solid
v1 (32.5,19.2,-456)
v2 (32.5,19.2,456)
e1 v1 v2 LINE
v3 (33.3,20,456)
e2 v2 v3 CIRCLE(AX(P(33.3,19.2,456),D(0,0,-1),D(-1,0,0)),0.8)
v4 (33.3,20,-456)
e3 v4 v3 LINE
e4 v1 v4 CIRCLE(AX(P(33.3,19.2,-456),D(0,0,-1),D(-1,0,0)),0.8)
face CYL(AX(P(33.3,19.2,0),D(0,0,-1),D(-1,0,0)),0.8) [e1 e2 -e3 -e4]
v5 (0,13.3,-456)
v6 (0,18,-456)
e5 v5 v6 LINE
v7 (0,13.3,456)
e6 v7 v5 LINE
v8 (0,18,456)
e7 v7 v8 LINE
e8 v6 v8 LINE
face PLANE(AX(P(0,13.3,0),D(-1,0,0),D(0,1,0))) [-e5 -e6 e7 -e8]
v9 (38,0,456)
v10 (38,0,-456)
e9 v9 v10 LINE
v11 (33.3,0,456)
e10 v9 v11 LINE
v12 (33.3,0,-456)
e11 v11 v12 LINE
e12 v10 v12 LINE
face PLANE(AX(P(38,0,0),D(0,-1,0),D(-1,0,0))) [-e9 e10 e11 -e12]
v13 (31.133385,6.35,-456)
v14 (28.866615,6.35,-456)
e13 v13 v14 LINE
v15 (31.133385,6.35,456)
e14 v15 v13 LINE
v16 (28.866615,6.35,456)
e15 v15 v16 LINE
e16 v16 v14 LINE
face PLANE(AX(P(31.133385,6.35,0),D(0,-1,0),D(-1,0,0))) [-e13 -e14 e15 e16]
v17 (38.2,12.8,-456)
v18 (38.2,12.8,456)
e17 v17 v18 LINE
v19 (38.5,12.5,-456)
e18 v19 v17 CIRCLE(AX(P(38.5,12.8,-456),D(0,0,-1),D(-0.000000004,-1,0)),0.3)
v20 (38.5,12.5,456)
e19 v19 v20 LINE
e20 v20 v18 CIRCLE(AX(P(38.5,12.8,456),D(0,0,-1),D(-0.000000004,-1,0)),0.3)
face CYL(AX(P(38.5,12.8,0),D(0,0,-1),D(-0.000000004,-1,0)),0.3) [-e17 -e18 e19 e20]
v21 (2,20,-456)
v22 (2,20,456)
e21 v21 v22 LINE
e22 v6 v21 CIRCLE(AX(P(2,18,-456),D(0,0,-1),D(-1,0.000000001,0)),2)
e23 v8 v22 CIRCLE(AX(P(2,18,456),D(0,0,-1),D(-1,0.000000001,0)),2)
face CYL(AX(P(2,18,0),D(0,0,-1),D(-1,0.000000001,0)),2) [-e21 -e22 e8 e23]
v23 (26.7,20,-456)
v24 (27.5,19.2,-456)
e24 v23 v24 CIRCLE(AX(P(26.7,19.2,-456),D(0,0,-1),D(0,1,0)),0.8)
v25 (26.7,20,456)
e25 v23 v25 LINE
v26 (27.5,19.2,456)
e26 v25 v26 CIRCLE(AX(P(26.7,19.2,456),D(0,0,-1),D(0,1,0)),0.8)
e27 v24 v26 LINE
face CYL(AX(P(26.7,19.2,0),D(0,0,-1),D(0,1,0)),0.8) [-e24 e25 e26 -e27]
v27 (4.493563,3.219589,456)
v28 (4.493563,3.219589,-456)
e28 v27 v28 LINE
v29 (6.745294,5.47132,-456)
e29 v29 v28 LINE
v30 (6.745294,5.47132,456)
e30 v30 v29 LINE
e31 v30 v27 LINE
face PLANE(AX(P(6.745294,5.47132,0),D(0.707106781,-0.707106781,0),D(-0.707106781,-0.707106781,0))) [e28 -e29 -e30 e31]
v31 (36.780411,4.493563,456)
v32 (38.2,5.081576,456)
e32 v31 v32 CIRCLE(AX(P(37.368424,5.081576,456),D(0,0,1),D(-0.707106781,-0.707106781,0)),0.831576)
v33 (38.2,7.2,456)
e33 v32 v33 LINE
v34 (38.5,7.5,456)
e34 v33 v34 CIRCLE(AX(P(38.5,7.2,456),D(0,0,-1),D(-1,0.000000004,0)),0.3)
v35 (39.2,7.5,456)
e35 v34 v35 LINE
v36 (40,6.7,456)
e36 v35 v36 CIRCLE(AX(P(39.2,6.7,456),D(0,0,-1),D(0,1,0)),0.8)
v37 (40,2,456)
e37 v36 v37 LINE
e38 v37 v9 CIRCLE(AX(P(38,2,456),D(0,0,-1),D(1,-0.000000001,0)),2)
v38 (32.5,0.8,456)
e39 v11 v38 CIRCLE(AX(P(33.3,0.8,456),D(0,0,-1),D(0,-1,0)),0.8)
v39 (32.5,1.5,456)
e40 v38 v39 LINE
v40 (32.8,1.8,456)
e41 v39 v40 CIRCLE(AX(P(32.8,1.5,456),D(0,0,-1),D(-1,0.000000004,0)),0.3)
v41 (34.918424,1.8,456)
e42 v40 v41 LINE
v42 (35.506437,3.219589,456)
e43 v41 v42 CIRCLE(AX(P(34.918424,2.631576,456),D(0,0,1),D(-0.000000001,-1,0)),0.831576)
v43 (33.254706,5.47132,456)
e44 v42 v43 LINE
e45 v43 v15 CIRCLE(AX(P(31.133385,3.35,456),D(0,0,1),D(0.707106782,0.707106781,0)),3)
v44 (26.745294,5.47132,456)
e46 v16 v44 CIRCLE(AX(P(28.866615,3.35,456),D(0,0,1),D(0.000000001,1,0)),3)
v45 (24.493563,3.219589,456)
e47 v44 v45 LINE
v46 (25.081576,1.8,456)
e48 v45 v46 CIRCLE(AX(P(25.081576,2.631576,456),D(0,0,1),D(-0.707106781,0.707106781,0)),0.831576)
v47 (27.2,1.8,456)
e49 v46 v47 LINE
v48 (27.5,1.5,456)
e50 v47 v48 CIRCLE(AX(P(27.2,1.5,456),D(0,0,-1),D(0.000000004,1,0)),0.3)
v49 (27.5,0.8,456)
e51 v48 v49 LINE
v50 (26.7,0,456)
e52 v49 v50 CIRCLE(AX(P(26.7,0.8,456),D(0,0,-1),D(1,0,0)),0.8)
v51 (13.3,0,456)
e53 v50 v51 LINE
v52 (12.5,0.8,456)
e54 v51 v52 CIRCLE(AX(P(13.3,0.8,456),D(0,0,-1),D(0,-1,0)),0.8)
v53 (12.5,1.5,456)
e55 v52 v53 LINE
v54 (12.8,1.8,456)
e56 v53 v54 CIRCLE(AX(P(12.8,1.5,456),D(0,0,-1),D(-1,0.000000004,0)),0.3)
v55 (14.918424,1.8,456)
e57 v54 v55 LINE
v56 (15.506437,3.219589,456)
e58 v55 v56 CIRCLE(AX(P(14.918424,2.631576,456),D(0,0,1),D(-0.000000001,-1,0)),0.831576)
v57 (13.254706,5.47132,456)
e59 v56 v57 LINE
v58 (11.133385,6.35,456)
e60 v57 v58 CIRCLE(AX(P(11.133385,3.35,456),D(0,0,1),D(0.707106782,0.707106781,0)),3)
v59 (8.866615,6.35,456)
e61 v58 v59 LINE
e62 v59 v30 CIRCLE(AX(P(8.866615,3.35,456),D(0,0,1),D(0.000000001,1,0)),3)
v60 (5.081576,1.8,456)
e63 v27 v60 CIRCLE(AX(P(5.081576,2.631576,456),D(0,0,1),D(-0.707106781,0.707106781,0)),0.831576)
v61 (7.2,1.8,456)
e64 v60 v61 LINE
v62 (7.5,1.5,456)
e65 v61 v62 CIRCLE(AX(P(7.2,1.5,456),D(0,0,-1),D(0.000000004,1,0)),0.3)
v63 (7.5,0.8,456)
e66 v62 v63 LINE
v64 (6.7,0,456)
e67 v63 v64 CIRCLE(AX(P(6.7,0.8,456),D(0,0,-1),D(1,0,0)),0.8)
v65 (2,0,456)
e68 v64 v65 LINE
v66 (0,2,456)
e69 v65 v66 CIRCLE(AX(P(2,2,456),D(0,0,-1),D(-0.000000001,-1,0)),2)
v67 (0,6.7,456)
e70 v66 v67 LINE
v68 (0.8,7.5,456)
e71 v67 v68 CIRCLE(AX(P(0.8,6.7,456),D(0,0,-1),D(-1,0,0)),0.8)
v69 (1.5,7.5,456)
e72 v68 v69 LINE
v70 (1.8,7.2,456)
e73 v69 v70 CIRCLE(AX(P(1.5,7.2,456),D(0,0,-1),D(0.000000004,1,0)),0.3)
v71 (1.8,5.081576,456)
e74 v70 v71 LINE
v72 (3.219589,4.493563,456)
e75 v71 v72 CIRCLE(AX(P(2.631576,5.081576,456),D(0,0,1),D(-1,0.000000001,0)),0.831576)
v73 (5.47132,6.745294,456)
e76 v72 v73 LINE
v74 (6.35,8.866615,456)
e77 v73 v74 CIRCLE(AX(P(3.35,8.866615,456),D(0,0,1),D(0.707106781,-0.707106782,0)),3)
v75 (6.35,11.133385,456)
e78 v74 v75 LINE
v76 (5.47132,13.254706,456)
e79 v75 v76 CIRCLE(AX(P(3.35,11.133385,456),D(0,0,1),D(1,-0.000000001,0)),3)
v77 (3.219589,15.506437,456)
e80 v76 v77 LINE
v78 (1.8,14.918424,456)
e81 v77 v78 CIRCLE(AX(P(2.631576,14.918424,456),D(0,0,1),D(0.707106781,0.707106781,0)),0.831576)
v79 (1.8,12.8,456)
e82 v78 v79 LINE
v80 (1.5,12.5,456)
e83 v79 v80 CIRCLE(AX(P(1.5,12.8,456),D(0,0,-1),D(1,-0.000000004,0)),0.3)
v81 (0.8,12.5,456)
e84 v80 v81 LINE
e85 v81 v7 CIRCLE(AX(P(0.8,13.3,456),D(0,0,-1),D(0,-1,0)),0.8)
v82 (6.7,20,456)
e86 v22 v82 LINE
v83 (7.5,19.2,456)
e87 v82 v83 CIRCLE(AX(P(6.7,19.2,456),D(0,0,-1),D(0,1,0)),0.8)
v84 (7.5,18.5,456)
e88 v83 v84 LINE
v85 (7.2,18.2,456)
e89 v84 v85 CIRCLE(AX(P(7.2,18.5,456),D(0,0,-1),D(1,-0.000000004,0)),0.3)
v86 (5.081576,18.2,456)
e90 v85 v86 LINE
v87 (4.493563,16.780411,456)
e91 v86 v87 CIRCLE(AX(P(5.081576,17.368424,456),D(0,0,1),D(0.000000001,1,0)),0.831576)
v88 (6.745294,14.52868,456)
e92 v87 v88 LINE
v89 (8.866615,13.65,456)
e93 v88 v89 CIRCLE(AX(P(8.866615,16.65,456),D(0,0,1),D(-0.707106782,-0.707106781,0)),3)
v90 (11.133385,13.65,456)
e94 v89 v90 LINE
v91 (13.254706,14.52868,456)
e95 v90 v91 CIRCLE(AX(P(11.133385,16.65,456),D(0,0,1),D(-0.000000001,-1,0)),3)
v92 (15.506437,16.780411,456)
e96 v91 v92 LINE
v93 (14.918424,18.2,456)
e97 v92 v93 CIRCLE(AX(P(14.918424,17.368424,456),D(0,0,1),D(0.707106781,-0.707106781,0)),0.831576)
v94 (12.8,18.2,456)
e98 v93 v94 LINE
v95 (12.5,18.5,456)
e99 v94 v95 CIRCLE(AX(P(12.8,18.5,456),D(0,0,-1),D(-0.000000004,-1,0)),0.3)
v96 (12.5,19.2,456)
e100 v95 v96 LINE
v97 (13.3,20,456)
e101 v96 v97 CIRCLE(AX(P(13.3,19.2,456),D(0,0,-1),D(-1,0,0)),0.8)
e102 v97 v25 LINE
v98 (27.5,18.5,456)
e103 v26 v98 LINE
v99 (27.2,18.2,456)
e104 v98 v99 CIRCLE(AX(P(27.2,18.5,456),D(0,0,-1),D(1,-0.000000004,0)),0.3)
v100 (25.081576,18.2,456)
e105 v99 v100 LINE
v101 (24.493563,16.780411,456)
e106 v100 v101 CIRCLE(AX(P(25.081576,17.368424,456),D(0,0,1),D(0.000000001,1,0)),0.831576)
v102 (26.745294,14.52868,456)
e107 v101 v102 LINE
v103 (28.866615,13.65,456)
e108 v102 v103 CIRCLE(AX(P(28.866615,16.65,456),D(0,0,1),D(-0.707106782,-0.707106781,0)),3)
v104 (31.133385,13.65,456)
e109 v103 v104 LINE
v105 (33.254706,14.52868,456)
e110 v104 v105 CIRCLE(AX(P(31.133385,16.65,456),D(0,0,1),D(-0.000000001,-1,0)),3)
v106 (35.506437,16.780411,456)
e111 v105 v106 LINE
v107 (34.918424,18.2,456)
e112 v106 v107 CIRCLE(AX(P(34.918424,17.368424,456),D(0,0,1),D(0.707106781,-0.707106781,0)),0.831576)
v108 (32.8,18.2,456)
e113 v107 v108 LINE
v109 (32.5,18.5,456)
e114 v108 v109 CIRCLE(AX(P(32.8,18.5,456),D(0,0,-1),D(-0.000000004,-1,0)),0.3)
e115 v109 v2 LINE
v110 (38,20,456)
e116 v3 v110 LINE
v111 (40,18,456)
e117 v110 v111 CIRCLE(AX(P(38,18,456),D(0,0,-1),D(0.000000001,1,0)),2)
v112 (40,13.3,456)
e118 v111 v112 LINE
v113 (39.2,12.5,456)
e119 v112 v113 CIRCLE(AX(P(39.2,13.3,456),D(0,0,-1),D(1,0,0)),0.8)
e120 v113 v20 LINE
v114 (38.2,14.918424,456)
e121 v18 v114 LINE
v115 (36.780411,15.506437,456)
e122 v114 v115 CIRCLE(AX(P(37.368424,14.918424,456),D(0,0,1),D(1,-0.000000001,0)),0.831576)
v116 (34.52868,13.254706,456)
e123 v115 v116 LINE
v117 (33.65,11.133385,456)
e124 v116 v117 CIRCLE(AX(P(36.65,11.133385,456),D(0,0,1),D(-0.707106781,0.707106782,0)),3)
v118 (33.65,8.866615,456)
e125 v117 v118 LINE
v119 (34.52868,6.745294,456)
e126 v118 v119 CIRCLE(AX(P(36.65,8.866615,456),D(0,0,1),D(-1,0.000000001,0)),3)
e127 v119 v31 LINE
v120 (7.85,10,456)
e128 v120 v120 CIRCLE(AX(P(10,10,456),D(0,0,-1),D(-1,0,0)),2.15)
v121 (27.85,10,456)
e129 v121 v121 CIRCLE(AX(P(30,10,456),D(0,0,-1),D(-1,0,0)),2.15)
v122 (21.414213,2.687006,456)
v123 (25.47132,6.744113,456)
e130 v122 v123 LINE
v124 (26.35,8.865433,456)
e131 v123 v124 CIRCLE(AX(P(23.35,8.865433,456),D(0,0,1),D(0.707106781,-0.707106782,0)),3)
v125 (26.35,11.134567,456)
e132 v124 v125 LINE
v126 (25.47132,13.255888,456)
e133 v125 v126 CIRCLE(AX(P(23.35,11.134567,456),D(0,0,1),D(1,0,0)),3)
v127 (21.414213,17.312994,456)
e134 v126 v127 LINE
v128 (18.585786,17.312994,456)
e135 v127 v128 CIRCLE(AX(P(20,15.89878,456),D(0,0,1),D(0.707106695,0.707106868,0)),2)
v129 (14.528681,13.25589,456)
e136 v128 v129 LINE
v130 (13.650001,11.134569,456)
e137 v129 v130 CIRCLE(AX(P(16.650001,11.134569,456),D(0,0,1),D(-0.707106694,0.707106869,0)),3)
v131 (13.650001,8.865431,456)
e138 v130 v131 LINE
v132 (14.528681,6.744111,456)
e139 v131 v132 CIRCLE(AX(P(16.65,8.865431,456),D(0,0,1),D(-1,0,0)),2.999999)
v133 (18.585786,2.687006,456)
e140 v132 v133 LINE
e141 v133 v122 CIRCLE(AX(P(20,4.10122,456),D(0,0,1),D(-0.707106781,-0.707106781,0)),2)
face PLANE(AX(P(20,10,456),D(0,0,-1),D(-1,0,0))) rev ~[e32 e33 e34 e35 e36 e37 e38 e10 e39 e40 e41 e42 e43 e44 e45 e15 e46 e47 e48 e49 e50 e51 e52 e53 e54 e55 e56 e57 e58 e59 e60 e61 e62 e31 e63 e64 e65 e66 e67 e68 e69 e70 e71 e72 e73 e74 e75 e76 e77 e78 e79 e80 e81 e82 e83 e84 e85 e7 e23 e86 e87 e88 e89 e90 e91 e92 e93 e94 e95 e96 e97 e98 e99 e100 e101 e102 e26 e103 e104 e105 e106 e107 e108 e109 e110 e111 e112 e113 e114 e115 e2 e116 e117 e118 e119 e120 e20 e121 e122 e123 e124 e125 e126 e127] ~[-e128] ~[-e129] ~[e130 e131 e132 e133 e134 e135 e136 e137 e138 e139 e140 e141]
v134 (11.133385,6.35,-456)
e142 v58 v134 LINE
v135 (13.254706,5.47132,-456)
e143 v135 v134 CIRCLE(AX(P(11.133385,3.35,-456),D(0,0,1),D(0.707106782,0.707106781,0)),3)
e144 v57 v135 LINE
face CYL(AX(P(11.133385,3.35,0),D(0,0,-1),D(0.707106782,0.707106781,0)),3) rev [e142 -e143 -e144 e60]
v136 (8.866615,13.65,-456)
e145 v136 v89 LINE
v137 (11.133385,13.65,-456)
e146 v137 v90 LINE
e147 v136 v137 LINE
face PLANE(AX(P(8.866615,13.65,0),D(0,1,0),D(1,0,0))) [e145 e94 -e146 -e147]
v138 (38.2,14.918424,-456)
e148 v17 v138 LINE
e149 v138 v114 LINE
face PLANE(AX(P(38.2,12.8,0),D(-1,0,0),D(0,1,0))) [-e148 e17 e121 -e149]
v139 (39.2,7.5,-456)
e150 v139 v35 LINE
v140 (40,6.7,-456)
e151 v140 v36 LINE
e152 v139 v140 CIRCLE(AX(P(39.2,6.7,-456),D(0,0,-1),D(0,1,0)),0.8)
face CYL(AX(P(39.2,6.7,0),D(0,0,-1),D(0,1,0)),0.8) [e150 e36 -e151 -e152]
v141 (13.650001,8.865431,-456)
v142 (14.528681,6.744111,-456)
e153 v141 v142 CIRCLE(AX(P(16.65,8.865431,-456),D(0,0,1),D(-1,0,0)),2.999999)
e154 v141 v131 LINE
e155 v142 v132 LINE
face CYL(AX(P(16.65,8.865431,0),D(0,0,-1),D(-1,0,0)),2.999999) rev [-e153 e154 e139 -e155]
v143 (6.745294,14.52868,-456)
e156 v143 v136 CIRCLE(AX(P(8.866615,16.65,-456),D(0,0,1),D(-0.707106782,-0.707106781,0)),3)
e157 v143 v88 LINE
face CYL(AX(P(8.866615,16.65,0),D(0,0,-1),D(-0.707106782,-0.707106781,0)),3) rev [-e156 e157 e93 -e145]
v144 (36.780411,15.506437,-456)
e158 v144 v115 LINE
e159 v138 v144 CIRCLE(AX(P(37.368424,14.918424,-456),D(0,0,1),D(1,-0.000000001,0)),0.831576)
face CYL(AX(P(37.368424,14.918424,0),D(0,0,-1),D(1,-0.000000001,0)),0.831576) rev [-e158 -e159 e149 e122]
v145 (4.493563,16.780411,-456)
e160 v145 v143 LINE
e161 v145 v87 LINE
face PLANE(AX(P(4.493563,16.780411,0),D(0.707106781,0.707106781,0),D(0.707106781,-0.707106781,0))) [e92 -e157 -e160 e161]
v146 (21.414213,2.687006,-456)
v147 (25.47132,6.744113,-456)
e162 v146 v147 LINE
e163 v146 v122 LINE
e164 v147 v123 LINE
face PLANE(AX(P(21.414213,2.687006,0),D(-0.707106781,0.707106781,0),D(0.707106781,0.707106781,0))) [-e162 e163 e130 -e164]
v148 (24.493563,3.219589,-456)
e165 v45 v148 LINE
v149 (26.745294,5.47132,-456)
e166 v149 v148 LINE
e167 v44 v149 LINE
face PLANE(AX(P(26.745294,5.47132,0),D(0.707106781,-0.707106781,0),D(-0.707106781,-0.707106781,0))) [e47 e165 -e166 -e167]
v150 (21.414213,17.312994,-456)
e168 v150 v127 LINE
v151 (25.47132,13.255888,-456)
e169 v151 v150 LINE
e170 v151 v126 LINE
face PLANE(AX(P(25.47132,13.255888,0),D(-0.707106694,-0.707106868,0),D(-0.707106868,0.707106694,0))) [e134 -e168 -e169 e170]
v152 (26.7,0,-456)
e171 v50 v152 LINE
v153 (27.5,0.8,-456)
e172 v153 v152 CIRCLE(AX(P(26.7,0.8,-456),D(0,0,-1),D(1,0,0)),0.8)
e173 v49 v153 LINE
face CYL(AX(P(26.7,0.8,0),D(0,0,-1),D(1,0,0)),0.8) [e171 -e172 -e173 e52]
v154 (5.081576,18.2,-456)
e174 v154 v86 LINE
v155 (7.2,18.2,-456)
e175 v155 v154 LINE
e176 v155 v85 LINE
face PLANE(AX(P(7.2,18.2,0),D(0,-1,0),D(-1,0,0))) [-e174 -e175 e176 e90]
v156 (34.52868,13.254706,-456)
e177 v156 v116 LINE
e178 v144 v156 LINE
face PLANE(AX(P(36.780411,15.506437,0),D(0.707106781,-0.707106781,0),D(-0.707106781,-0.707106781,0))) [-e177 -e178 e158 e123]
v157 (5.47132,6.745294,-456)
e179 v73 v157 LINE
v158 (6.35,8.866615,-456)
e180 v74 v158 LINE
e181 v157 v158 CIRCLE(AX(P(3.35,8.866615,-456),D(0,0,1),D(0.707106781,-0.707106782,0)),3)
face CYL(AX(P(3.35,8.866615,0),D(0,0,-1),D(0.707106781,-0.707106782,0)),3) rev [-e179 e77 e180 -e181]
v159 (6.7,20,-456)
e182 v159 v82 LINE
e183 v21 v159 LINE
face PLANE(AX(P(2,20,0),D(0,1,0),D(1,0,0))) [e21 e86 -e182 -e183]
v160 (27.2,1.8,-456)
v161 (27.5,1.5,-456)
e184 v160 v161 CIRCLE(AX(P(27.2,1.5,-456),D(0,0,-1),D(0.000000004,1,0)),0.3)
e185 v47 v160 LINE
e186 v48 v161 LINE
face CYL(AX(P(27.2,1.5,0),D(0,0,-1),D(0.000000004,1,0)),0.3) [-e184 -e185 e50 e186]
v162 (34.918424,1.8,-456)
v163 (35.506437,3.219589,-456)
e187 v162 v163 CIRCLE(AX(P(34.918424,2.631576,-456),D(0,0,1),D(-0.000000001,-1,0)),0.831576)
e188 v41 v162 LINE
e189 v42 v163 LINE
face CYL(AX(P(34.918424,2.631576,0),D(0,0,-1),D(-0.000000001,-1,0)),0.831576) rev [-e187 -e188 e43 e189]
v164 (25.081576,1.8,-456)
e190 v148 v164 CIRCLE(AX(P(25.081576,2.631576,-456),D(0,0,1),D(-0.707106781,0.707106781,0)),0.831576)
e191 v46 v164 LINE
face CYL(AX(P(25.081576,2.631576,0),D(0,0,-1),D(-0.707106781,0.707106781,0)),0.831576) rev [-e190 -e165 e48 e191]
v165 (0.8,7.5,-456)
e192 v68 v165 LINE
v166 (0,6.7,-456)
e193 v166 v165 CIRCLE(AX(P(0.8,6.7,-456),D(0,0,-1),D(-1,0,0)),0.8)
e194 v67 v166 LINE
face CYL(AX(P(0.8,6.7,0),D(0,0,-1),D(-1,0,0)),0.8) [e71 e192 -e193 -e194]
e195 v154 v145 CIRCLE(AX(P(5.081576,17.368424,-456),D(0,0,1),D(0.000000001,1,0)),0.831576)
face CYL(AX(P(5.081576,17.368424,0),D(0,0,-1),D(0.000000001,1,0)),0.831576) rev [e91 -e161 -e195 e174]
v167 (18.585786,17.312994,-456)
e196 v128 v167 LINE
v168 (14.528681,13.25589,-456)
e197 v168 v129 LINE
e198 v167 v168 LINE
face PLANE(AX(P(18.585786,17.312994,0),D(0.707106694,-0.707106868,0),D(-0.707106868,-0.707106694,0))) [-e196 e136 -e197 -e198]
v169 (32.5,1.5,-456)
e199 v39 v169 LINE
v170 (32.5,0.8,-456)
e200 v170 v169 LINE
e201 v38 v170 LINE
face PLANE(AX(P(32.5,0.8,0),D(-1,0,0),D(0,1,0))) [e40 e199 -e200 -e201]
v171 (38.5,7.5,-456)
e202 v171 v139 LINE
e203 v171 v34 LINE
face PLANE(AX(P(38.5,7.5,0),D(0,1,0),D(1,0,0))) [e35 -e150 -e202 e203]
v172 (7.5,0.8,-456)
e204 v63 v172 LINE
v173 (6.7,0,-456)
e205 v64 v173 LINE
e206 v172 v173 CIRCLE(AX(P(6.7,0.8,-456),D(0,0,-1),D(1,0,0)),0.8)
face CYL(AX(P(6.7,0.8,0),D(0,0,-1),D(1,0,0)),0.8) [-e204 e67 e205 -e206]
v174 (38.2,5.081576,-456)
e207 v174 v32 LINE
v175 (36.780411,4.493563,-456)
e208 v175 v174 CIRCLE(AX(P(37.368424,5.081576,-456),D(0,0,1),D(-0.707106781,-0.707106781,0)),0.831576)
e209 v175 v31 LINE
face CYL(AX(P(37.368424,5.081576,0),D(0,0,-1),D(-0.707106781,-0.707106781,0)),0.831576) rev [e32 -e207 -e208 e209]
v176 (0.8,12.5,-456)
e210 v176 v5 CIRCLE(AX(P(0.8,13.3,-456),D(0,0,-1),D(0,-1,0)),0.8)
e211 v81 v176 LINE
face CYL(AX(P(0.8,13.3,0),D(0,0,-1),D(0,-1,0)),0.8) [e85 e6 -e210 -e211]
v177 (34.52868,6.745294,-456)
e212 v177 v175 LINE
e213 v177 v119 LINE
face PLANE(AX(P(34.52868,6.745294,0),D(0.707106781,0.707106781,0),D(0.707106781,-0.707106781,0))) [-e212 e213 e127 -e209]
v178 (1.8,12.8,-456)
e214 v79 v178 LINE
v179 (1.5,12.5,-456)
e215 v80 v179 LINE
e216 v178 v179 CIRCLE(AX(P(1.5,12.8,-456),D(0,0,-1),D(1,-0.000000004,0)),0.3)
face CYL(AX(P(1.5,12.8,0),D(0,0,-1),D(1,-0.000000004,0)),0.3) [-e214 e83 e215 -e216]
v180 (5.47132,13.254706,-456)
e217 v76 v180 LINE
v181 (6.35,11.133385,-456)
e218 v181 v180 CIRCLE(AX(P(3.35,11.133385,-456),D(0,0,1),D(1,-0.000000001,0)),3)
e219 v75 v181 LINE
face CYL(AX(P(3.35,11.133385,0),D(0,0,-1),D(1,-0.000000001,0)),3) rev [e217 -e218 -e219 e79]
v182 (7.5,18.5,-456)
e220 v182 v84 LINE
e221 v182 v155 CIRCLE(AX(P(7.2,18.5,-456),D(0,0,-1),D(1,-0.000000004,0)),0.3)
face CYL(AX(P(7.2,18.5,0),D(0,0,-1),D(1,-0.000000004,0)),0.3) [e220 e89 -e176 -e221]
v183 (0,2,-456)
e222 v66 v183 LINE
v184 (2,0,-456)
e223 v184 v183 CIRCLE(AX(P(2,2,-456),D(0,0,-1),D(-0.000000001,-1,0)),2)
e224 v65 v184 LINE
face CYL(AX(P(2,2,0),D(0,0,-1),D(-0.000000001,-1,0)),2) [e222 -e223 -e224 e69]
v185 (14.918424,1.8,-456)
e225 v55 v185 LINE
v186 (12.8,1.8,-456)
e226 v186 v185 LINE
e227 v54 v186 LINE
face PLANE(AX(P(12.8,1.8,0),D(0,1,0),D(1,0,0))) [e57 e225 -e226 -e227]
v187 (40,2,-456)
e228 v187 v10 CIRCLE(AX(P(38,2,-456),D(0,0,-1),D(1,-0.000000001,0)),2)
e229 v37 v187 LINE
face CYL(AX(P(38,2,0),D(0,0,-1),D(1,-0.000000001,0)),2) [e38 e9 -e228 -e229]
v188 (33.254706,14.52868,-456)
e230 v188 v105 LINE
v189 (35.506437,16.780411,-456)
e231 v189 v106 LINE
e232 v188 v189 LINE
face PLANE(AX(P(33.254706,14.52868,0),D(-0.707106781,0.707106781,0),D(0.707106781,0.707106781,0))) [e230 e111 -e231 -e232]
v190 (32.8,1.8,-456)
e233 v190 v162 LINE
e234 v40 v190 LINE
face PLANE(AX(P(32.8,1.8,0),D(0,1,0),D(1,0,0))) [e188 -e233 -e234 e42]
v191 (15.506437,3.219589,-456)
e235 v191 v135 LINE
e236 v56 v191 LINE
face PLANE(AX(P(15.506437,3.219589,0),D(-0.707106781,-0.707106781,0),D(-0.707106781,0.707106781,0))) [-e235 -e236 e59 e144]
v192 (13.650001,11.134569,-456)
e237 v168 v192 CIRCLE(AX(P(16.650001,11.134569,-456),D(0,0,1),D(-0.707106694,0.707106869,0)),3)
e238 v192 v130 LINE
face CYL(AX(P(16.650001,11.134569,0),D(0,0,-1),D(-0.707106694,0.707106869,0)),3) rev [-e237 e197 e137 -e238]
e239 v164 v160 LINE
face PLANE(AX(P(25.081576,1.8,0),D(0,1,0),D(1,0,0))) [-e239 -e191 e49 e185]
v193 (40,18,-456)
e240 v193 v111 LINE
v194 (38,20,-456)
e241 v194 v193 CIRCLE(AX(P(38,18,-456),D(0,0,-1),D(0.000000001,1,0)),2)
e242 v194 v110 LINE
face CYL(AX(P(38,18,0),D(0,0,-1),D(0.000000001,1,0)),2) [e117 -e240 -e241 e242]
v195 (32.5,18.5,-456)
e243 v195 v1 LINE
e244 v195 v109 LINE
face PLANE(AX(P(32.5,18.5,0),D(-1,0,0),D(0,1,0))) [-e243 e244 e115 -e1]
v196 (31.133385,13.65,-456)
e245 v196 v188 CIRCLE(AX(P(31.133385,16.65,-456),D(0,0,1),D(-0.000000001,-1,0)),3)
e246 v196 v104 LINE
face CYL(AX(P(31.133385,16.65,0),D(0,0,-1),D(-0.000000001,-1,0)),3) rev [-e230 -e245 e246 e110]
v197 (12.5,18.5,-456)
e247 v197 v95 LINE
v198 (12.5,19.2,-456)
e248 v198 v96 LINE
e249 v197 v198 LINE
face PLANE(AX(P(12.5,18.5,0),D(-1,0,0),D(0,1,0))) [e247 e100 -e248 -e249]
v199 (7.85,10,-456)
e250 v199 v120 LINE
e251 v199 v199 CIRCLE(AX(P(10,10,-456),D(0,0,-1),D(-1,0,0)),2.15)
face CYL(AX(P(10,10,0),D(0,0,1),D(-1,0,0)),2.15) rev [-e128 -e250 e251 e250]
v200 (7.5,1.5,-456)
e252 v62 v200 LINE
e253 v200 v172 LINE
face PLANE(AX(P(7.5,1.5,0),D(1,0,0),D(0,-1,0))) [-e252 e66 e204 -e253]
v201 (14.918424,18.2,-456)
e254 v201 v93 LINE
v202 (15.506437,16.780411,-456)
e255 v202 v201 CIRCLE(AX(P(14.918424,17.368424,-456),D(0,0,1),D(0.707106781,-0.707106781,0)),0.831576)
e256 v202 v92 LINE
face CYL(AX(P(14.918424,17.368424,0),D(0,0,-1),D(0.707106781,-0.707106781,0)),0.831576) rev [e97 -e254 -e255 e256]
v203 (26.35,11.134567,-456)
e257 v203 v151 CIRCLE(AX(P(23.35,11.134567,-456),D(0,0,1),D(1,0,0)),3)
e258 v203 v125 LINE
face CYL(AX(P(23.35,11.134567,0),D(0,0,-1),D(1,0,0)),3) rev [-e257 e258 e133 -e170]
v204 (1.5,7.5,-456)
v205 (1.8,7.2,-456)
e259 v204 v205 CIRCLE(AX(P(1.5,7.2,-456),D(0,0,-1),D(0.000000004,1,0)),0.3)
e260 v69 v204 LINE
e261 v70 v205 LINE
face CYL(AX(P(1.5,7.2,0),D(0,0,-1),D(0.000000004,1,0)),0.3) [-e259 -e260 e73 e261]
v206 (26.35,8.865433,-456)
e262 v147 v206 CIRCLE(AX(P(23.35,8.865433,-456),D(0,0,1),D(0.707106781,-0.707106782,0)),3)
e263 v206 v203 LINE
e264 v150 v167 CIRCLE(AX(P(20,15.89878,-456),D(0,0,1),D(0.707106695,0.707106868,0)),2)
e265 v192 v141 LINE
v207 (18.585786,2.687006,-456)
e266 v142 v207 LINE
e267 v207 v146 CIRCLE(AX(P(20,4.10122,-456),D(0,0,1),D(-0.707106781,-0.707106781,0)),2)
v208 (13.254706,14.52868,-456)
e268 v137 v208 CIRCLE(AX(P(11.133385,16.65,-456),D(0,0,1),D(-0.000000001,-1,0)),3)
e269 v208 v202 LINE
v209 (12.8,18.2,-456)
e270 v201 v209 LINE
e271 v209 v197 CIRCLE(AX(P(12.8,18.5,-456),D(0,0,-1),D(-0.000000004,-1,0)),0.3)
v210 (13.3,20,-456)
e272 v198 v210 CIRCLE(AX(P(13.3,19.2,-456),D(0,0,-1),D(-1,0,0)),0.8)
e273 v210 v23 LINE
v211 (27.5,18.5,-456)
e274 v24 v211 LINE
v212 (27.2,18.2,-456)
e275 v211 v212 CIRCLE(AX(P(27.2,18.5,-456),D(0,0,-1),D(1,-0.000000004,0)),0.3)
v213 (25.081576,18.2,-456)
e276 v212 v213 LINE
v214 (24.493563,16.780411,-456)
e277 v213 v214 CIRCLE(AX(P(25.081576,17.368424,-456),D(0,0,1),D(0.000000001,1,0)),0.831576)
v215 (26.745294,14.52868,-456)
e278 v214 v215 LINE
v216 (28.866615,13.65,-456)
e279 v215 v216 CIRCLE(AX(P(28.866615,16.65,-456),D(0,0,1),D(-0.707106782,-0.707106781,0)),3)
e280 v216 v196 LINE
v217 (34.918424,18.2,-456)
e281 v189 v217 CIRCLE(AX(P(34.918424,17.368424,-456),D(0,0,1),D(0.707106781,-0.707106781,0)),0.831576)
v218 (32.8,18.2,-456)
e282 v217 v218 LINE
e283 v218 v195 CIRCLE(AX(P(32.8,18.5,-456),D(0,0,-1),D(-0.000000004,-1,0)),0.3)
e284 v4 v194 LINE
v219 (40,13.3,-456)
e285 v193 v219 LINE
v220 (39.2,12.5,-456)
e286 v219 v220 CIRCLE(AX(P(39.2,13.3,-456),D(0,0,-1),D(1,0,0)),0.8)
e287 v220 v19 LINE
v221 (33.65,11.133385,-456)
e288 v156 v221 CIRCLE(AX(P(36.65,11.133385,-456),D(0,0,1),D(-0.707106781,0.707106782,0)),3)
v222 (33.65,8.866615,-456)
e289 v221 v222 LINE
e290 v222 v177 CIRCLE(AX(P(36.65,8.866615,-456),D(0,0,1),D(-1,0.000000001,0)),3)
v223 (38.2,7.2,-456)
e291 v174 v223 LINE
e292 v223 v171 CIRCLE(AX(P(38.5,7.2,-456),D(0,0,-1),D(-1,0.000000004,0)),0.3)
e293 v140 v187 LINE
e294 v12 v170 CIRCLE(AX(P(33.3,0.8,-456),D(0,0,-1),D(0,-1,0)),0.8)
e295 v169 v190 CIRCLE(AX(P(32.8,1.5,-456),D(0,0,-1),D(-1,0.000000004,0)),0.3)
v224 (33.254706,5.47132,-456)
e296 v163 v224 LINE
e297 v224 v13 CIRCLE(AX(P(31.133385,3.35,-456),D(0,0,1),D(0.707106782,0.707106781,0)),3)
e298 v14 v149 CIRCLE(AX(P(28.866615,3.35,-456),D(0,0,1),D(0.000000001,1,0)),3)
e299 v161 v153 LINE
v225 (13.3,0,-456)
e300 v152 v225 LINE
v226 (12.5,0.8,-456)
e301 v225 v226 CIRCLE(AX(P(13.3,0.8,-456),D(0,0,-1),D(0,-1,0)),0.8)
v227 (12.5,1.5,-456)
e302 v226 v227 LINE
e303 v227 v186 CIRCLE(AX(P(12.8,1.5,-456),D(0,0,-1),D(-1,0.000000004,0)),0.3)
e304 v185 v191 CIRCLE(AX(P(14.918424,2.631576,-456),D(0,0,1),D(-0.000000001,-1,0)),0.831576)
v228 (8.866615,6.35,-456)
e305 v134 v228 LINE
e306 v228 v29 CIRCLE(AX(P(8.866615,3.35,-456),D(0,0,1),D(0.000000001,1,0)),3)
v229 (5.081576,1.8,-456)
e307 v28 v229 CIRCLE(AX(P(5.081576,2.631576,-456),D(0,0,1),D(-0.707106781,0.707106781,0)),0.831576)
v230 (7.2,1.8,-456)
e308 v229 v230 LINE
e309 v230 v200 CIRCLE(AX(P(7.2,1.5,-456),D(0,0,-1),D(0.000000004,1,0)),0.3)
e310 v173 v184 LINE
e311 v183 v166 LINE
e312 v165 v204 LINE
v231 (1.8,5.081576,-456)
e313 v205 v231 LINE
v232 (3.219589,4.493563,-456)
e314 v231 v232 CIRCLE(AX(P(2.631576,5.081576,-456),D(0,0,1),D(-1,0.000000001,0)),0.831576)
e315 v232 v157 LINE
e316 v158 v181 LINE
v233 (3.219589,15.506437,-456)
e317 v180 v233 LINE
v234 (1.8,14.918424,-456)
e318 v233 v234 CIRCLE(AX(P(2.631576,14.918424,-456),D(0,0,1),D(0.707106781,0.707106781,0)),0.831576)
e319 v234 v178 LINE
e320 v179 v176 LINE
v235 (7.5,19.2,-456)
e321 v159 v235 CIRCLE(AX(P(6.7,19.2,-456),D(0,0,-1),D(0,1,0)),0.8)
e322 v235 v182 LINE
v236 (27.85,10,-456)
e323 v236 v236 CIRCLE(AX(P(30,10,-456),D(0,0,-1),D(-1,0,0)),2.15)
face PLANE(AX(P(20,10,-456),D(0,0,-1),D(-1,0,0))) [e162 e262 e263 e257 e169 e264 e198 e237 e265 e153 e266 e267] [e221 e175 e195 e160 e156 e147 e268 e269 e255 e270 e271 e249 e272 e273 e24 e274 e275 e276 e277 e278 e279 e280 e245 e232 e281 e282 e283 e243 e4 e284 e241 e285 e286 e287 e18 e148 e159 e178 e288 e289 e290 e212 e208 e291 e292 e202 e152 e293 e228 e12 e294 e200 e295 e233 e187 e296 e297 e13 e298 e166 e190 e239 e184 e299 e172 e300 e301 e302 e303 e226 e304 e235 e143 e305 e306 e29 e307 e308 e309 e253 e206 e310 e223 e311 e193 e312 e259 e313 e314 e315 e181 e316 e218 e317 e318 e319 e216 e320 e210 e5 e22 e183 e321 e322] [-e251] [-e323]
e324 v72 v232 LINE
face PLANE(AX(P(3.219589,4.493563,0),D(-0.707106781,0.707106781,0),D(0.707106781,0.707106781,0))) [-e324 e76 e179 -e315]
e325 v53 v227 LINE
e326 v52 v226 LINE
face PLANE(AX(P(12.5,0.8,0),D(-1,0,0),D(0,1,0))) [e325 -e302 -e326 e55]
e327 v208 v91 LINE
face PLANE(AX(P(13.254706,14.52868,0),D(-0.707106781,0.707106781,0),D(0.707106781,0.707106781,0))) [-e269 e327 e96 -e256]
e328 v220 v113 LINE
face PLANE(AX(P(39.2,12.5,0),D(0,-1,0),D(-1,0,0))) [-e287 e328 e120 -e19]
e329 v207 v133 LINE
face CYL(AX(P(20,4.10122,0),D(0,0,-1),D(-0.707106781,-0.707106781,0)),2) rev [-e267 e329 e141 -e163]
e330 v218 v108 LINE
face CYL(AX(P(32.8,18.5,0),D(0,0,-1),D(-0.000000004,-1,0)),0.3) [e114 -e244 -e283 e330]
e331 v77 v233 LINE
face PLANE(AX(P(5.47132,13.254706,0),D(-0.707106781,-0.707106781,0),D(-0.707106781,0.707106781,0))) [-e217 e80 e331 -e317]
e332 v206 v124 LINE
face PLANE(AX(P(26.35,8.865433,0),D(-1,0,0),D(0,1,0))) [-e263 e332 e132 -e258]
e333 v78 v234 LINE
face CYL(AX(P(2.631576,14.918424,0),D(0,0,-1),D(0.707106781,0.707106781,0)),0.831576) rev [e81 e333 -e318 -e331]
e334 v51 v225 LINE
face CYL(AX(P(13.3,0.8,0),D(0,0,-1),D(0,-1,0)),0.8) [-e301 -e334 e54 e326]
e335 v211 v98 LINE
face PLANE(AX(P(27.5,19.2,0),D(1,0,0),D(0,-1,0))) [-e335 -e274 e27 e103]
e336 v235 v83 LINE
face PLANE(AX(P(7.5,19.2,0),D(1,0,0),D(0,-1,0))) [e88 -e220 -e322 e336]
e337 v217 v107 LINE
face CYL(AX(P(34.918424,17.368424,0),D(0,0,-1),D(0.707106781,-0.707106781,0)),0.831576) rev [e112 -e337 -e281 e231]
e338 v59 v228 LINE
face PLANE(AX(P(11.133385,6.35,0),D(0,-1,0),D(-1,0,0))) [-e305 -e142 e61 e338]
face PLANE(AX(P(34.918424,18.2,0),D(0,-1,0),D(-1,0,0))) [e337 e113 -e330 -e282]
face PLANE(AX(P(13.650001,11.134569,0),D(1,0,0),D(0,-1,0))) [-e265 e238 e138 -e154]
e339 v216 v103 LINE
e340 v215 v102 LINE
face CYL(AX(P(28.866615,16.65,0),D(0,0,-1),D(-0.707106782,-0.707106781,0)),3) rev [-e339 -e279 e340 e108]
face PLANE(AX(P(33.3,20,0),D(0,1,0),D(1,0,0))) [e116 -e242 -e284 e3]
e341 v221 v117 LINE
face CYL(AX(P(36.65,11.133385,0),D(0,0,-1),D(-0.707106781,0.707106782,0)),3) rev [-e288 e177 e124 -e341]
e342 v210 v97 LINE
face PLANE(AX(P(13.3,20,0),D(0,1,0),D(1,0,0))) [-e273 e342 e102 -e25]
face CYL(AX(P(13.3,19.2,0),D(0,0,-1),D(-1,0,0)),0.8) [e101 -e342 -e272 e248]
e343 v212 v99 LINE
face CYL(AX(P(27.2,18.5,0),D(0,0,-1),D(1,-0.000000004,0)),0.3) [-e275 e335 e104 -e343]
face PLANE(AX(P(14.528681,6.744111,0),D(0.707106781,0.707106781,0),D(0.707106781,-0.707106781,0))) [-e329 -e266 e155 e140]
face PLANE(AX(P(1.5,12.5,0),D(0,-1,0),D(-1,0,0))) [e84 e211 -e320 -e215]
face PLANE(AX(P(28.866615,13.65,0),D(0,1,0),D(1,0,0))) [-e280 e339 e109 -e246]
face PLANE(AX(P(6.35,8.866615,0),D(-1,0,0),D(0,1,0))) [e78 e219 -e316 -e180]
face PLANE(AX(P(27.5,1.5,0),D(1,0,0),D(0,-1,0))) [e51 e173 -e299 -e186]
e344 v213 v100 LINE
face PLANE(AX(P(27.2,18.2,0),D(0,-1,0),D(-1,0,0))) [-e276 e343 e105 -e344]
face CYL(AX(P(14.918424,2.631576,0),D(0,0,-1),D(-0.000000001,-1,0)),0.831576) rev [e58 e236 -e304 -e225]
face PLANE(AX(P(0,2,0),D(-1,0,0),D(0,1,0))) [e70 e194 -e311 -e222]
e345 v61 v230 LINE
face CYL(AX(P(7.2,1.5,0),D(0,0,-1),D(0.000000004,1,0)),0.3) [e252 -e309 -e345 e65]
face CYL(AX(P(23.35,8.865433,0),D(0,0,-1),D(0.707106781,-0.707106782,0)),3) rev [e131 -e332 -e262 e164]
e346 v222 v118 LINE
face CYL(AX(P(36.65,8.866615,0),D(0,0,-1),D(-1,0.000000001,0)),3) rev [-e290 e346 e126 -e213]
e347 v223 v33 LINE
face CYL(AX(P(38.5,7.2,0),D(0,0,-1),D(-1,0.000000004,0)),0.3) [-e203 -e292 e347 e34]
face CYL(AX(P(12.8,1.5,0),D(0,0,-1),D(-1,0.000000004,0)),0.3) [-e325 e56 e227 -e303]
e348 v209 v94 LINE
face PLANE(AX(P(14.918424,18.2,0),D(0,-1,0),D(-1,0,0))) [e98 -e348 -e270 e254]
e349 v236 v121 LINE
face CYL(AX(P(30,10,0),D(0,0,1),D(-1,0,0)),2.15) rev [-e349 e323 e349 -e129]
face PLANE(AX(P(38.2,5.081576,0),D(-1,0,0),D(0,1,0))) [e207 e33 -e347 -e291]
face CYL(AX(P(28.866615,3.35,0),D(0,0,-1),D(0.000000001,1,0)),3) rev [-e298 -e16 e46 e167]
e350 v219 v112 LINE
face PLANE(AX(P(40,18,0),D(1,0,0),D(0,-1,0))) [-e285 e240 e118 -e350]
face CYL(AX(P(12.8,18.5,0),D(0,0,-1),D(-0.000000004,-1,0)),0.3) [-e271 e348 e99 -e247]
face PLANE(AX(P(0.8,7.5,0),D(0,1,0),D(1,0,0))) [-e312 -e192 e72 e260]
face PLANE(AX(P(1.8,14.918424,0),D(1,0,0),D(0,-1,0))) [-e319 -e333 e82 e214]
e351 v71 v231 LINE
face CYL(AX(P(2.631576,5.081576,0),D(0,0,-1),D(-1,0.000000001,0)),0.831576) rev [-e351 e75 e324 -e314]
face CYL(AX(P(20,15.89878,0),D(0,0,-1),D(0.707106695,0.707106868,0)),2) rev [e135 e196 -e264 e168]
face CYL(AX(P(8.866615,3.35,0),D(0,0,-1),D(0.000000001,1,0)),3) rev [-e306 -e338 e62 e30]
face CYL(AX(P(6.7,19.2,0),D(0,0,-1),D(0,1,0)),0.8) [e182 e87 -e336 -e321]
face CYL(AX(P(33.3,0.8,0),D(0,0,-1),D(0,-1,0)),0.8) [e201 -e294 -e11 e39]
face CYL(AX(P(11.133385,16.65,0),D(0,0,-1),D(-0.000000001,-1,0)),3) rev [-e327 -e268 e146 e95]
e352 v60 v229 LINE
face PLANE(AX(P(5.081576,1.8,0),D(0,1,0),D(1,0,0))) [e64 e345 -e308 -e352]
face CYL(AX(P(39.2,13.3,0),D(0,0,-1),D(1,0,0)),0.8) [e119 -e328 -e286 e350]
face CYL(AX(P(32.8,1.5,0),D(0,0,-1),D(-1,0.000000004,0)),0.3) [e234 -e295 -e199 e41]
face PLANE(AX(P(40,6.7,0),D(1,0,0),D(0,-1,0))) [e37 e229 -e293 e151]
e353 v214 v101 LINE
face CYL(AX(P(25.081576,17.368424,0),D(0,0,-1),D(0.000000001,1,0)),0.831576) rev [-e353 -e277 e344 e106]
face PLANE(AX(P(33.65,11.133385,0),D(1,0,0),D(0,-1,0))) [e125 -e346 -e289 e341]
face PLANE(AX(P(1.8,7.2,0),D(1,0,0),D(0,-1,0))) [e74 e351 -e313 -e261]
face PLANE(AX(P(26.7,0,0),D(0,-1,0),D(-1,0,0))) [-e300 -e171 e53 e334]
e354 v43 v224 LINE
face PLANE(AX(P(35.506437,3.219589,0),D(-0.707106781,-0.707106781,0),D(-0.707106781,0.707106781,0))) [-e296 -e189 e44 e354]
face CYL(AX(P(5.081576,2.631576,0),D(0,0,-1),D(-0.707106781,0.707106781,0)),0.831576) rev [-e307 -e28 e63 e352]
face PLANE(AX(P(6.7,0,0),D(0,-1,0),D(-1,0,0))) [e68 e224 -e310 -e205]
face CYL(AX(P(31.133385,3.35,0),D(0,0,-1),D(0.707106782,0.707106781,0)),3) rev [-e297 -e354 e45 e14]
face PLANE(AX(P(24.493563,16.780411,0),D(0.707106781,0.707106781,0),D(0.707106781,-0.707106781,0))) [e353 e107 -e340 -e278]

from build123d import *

# Parameters (mm, degrees)
ESQUISSE1_R        = 2.15
BOSS_EXTRU_1_DEPTH = 456


with BuildPart() as part:
    # Esquisse1 → Boss.-Extru.1 (new, symmetric)
    with BuildSketch(Plane(origin=(0, 0, 0), x_dir=(-1, 0, 0), z_dir=(0, 0, -1))):
        with BuildLine():
            Line((-40, 6.7), (-40, 2))
            ThreePointArc((-40, 2), (-39.414213562, 0.585786438), (-38, 0))
            Line((-38, 0), (-33.3, 0))
            ThreePointArc((-33.3, 0), (-32.734314575, 0.234314575), (-32.5, 0.8))
            Line((-32.5, 0.8), (-32.5, 1.5))
            ThreePointArc((-32.5, 1.5), (-32.587867966, 1.712132034), (-32.8, 1.8))
            Line((-32.8, 1.8), (-34.918424061, 1.8))
            ThreePointArc((-34.918424061, 1.8), (-35.686700051, 2.313345604), (-35.506437047, 3.219588924))
            Line((-35.506437047, 3.219588924), (-33.254705627, 5.471320344))
            ThreePointArc((-33.254705627, 5.471320344), (-32.281435581, 6.121638598), (-31.133385284, 6.35))
            Line((-31.133385284, 6.35), (-28.866614716, 6.35))
            ThreePointArc((-28.866614716, 6.35), (-27.718564419, 6.121638598), (-26.745294373, 5.471320344))
            Line((-26.745294373, 5.471320344), (-24.493562953, 3.219588924))
            ThreePointArc((-24.493562953, 3.219588924), (-24.313299949, 2.313345604), (-25.081575939, 1.8))
            Line((-25.081575939, 1.8), (-27.2, 1.8))
            ThreePointArc((-27.2, 1.8), (-27.412132034, 1.712132034), (-27.5, 1.5))
            Line((-27.5, 1.5), (-27.5, 0.8))
            ThreePointArc((-27.5, 0.8), (-27.265685425, 0.234314575), (-26.7, 0))
            Line((-26.7, 0), (-13.3, 0))
            ThreePointArc((-13.3, 0), (-12.734314575, 0.234314575), (-12.5, 0.8))
            Line((-12.5, 0.8), (-12.5, 1.5))
            ThreePointArc((-12.5, 1.5), (-12.587867966, 1.712132034), (-12.8, 1.8))
            Line((-12.8, 1.8), (-14.918424061, 1.8))
            ThreePointArc((-14.918424061, 1.8), (-15.686700051, 2.313345604), (-15.506437047, 3.219588924))
            Line((-15.506437047, 3.219588924), (-13.254705627, 5.471320344))
            ThreePointArc((-13.254705627, 5.471320344), (-12.281435581, 6.121638598), (-11.133385284, 6.35))
            Line((-11.133385284, 6.35), (-8.866614716, 6.35))
            ThreePointArc((-8.866614716, 6.35), (-7.718564419, 6.121638598), (-6.745294373, 5.471320344))
            Line((-6.745294373, 5.471320344), (-4.493562953, 3.219588924))
            ThreePointArc((-4.493562953, 3.219588924), (-4.313299949, 2.313345604), (-5.081575939, 1.8))
            Line((-5.081575939, 1.8), (-7.2, 1.8))
            ThreePointArc((-7.2, 1.8), (-7.412132034, 1.712132034), (-7.5, 1.5))
            Line((-7.5, 1.5), (-7.5, 0.8))
            ThreePointArc((-7.5, 0.8), (-7.265685425, 0.234314575), (-6.7, 0))
            Line((-6.7, 0), (-2, 0))
            ThreePointArc((-2, 0), (-0.585786438, 0.585786438), (0, 2))
            Line((0, 2), (0, 6.7))
            ThreePointArc((0, 6.7), (-0.234314575, 7.265685425), (-0.8, 7.5))
            Line((-0.8, 7.5), (-1.5, 7.5))
            ThreePointArc((-1.5, 7.5), (-1.712132034, 7.412132034), (-1.8, 7.2))
            Line((-1.8, 7.2), (-1.8, 5.081575939))
            ThreePointArc((-1.8, 5.081575939), (-2.313345604, 4.313299949), (-3.219588924, 4.493562953))
            Line((-3.219588924, 4.493562953), (-5.471320344, 6.745294373))
            ThreePointArc((-5.471320344, 6.745294373), (-6.121638598, 7.718564419), (-6.35, 8.866614716))
            Line((-6.35, 8.866614716), (-6.35, 11.133385284))
            ThreePointArc((-6.35, 11.133385284), (-6.121638598, 12.281435581), (-5.471320344, 13.254705627))
            Line((-5.471320344, 13.254705627), (-3.219588924, 15.506437047))
            ThreePointArc((-3.219588924, 15.506437047), (-2.313345604, 15.686700051), (-1.8, 14.918424061))
            Line((-1.8, 14.918424061), (-1.8, 12.8))
            ThreePointArc((-1.8, 12.8), (-1.712132034, 12.587867966), (-1.5, 12.5))
            Line((-1.5, 12.5), (-0.8, 12.5))
            ThreePointArc((-0.8, 12.5), (-0.234314575, 12.734314575), (0, 13.3))
            Line((0, 13.3), (0, 18))
            ThreePointArc((0, 18), (-0.585786438, 19.414213562), (-2, 20))
            Line((-2, 20), (-6.7, 20))
            ThreePointArc((-6.7, 20), (-7.265685425, 19.765685425), (-7.5, 19.2))
            Line((-7.5, 19.2), (-7.5, 18.5))
            ThreePointArc((-7.5, 18.5), (-7.412132034, 18.287867966), (-7.2, 18.2))
            Line((-7.2, 18.2), (-5.081575939, 18.2))
            ThreePointArc((-5.081575939, 18.2), (-4.313299949, 17.686654396), (-4.493562953, 16.780411076))
            Line((-4.493562953, 16.780411076), (-6.745294373, 14.528679656))
            ThreePointArc((-6.745294373, 14.528679656), (-7.718564419, 13.878361402), (-8.866614716, 13.65))
            Line((-8.866614716, 13.65), (-11.133385284, 13.65))
            ThreePointArc((-11.133385284, 13.65), (-12.281435581, 13.878361402), (-13.254705627, 14.528679656))
            Line((-13.254705627, 14.528679656), (-15.506437047, 16.780411076))
            ThreePointArc((-15.506437047, 16.780411076), (-15.686700051, 17.686654396), (-14.918424061, 18.2))
            Line((-14.918424061, 18.2), (-12.8, 18.2))
            ThreePointArc((-12.8, 18.2), (-12.587867966, 18.287867966), (-12.5, 18.5))
            Line((-12.5, 18.5), (-12.5, 19.2))
            ThreePointArc((-12.5, 19.2), (-12.734314575, 19.765685425), (-13.3, 20))
            Line((-13.3, 20), (-26.7, 20))
            ThreePointArc((-26.7, 20), (-27.265685425, 19.765685425), (-27.5, 19.2))
            Line((-27.5, 19.2), (-27.5, 18.5))
            ThreePointArc((-27.5, 18.5), (-27.412132034, 18.287867966), (-27.2, 18.2))
            Line((-27.2, 18.2), (-25.081575939, 18.2))
            ThreePointArc((-25.081575939, 18.2), (-24.313299949, 17.686654396), (-24.493562953, 16.780411076))
            Line((-24.493562953, 16.780411076), (-26.745294373, 14.528679656))
            ThreePointArc((-26.745294373, 14.528679656), (-27.718564419, 13.878361402), (-28.866614716, 13.65))
            Line((-28.866614716, 13.65), (-31.133385284, 13.65))
            ThreePointArc((-31.133385284, 13.65), (-32.281435581, 13.878361402), (-33.254705627, 14.528679656))
            Line((-33.254705627, 14.528679656), (-35.506437047, 16.780411076))
            ThreePointArc((-35.506437047, 16.780411076), (-35.686700051, 17.686654396), (-34.918424061, 18.2))
            Line((-34.918424061, 18.2), (-32.8, 18.2))
            ThreePointArc((-32.8, 18.2), (-32.587867966, 18.287867966), (-32.5, 18.5))
            Line((-32.5, 18.5), (-32.5, 19.2))
            ThreePointArc((-32.5, 19.2), (-32.734314575, 19.765685425), (-33.3, 20))
            Line((-33.3, 20), (-38, 20))
            ThreePointArc((-38, 20), (-39.414213562, 19.414213562), (-40, 18))
            Line((-40, 18), (-40, 13.3))
            ThreePointArc((-40, 13.3), (-39.765685425, 12.734314575), (-39.2, 12.5))
            Line((-39.2, 12.5), (-38.5, 12.5))
            ThreePointArc((-38.5, 12.5), (-38.287867966, 12.587867966), (-38.2, 12.8))
            Line((-38.2, 12.8), (-38.2, 14.918424061))
            ThreePointArc((-38.2, 14.918424061), (-37.686654396, 15.686700051), (-36.780411076, 15.506437047))
            Line((-36.780411076, 15.506437047), (-34.528679656, 13.254705627))
            ThreePointArc((-34.528679656, 13.254705627), (-33.878361402, 12.281435581), (-33.65, 11.133385284))
            Line((-33.65, 11.133385284), (-33.65, 8.866614716))
            ThreePointArc((-33.65, 8.866614716), (-33.878361402, 7.718564419), (-34.528679656, 6.745294373))
            Line((-34.528679656, 6.745294373), (-36.780411076, 4.493562953))
            ThreePointArc((-36.780411076, 4.493562953), (-37.686654396, 4.313299949), (-38.2, 5.081575939))
            Line((-38.2, 5.081575939), (-38.2, 7.2))
            ThreePointArc((-38.2, 7.2), (-38.287867966, 7.412132034), (-38.5, 7.5))
            Line((-38.5, 7.5), (-39.2, 7.5))
            ThreePointArc((-39.2, 7.5), (-39.765685425, 7.265685425), (-40, 6.7))
        make_face()
        with Locations((-10, 10)):
            Circle(ESQUISSE1_R, mode=Mode.SUBTRACT)
        with Locations((-30, 10)):
            Circle(ESQUISSE1_R, mode=Mode.SUBTRACT)
        with BuildLine():
            Line((-18.585786174, 17.312993861), (-14.528681072, 13.255889759))
            ThreePointArc((-14.528681072, 13.255889759), (-13.878362627, 12.282619622), (-13.650001154, 11.134569154))
            Line((-13.650001154, 11.134569154), (-13.650001154, 8.865431094))
            ThreePointArc((-13.650001154, 8.865431094), (-13.878362476, 7.717381202), (-14.5286805, 6.7441115))
            Line((-14.5286805, 6.7441115), (-18.585786, 2.687006))
            ThreePointArc((-18.585786, 2.687006), (-19.999999562, 2.101219562), (-21.414213125, 2.687006))
            Line((-21.414213125, 2.687006), (-25.471320125, 6.744113))
            ThreePointArc((-25.471320125, 6.744113), (-26.121638379, 7.717383046), (-26.349999781, 8.865433344))
            Line((-26.349999781, 8.865433344), (-26.349999781, 11.134567344))
            ThreePointArc((-26.349999781, 11.134567344), (-26.121638308, 12.282617811), (-25.471319863, 13.255887949))
            Line((-25.471319863, 13.255887949), (-21.41421295, 17.312993861))
            ThreePointArc((-21.41421295, 17.312993861), (-19.999999562, 17.898780125), (-18.585786174, 17.312993861))
        make_face(mode=Mode.SUBTRACT)
    extrude(amount=BOSS_EXTRU_1_DEPTH, both=True)


solid = part.part
